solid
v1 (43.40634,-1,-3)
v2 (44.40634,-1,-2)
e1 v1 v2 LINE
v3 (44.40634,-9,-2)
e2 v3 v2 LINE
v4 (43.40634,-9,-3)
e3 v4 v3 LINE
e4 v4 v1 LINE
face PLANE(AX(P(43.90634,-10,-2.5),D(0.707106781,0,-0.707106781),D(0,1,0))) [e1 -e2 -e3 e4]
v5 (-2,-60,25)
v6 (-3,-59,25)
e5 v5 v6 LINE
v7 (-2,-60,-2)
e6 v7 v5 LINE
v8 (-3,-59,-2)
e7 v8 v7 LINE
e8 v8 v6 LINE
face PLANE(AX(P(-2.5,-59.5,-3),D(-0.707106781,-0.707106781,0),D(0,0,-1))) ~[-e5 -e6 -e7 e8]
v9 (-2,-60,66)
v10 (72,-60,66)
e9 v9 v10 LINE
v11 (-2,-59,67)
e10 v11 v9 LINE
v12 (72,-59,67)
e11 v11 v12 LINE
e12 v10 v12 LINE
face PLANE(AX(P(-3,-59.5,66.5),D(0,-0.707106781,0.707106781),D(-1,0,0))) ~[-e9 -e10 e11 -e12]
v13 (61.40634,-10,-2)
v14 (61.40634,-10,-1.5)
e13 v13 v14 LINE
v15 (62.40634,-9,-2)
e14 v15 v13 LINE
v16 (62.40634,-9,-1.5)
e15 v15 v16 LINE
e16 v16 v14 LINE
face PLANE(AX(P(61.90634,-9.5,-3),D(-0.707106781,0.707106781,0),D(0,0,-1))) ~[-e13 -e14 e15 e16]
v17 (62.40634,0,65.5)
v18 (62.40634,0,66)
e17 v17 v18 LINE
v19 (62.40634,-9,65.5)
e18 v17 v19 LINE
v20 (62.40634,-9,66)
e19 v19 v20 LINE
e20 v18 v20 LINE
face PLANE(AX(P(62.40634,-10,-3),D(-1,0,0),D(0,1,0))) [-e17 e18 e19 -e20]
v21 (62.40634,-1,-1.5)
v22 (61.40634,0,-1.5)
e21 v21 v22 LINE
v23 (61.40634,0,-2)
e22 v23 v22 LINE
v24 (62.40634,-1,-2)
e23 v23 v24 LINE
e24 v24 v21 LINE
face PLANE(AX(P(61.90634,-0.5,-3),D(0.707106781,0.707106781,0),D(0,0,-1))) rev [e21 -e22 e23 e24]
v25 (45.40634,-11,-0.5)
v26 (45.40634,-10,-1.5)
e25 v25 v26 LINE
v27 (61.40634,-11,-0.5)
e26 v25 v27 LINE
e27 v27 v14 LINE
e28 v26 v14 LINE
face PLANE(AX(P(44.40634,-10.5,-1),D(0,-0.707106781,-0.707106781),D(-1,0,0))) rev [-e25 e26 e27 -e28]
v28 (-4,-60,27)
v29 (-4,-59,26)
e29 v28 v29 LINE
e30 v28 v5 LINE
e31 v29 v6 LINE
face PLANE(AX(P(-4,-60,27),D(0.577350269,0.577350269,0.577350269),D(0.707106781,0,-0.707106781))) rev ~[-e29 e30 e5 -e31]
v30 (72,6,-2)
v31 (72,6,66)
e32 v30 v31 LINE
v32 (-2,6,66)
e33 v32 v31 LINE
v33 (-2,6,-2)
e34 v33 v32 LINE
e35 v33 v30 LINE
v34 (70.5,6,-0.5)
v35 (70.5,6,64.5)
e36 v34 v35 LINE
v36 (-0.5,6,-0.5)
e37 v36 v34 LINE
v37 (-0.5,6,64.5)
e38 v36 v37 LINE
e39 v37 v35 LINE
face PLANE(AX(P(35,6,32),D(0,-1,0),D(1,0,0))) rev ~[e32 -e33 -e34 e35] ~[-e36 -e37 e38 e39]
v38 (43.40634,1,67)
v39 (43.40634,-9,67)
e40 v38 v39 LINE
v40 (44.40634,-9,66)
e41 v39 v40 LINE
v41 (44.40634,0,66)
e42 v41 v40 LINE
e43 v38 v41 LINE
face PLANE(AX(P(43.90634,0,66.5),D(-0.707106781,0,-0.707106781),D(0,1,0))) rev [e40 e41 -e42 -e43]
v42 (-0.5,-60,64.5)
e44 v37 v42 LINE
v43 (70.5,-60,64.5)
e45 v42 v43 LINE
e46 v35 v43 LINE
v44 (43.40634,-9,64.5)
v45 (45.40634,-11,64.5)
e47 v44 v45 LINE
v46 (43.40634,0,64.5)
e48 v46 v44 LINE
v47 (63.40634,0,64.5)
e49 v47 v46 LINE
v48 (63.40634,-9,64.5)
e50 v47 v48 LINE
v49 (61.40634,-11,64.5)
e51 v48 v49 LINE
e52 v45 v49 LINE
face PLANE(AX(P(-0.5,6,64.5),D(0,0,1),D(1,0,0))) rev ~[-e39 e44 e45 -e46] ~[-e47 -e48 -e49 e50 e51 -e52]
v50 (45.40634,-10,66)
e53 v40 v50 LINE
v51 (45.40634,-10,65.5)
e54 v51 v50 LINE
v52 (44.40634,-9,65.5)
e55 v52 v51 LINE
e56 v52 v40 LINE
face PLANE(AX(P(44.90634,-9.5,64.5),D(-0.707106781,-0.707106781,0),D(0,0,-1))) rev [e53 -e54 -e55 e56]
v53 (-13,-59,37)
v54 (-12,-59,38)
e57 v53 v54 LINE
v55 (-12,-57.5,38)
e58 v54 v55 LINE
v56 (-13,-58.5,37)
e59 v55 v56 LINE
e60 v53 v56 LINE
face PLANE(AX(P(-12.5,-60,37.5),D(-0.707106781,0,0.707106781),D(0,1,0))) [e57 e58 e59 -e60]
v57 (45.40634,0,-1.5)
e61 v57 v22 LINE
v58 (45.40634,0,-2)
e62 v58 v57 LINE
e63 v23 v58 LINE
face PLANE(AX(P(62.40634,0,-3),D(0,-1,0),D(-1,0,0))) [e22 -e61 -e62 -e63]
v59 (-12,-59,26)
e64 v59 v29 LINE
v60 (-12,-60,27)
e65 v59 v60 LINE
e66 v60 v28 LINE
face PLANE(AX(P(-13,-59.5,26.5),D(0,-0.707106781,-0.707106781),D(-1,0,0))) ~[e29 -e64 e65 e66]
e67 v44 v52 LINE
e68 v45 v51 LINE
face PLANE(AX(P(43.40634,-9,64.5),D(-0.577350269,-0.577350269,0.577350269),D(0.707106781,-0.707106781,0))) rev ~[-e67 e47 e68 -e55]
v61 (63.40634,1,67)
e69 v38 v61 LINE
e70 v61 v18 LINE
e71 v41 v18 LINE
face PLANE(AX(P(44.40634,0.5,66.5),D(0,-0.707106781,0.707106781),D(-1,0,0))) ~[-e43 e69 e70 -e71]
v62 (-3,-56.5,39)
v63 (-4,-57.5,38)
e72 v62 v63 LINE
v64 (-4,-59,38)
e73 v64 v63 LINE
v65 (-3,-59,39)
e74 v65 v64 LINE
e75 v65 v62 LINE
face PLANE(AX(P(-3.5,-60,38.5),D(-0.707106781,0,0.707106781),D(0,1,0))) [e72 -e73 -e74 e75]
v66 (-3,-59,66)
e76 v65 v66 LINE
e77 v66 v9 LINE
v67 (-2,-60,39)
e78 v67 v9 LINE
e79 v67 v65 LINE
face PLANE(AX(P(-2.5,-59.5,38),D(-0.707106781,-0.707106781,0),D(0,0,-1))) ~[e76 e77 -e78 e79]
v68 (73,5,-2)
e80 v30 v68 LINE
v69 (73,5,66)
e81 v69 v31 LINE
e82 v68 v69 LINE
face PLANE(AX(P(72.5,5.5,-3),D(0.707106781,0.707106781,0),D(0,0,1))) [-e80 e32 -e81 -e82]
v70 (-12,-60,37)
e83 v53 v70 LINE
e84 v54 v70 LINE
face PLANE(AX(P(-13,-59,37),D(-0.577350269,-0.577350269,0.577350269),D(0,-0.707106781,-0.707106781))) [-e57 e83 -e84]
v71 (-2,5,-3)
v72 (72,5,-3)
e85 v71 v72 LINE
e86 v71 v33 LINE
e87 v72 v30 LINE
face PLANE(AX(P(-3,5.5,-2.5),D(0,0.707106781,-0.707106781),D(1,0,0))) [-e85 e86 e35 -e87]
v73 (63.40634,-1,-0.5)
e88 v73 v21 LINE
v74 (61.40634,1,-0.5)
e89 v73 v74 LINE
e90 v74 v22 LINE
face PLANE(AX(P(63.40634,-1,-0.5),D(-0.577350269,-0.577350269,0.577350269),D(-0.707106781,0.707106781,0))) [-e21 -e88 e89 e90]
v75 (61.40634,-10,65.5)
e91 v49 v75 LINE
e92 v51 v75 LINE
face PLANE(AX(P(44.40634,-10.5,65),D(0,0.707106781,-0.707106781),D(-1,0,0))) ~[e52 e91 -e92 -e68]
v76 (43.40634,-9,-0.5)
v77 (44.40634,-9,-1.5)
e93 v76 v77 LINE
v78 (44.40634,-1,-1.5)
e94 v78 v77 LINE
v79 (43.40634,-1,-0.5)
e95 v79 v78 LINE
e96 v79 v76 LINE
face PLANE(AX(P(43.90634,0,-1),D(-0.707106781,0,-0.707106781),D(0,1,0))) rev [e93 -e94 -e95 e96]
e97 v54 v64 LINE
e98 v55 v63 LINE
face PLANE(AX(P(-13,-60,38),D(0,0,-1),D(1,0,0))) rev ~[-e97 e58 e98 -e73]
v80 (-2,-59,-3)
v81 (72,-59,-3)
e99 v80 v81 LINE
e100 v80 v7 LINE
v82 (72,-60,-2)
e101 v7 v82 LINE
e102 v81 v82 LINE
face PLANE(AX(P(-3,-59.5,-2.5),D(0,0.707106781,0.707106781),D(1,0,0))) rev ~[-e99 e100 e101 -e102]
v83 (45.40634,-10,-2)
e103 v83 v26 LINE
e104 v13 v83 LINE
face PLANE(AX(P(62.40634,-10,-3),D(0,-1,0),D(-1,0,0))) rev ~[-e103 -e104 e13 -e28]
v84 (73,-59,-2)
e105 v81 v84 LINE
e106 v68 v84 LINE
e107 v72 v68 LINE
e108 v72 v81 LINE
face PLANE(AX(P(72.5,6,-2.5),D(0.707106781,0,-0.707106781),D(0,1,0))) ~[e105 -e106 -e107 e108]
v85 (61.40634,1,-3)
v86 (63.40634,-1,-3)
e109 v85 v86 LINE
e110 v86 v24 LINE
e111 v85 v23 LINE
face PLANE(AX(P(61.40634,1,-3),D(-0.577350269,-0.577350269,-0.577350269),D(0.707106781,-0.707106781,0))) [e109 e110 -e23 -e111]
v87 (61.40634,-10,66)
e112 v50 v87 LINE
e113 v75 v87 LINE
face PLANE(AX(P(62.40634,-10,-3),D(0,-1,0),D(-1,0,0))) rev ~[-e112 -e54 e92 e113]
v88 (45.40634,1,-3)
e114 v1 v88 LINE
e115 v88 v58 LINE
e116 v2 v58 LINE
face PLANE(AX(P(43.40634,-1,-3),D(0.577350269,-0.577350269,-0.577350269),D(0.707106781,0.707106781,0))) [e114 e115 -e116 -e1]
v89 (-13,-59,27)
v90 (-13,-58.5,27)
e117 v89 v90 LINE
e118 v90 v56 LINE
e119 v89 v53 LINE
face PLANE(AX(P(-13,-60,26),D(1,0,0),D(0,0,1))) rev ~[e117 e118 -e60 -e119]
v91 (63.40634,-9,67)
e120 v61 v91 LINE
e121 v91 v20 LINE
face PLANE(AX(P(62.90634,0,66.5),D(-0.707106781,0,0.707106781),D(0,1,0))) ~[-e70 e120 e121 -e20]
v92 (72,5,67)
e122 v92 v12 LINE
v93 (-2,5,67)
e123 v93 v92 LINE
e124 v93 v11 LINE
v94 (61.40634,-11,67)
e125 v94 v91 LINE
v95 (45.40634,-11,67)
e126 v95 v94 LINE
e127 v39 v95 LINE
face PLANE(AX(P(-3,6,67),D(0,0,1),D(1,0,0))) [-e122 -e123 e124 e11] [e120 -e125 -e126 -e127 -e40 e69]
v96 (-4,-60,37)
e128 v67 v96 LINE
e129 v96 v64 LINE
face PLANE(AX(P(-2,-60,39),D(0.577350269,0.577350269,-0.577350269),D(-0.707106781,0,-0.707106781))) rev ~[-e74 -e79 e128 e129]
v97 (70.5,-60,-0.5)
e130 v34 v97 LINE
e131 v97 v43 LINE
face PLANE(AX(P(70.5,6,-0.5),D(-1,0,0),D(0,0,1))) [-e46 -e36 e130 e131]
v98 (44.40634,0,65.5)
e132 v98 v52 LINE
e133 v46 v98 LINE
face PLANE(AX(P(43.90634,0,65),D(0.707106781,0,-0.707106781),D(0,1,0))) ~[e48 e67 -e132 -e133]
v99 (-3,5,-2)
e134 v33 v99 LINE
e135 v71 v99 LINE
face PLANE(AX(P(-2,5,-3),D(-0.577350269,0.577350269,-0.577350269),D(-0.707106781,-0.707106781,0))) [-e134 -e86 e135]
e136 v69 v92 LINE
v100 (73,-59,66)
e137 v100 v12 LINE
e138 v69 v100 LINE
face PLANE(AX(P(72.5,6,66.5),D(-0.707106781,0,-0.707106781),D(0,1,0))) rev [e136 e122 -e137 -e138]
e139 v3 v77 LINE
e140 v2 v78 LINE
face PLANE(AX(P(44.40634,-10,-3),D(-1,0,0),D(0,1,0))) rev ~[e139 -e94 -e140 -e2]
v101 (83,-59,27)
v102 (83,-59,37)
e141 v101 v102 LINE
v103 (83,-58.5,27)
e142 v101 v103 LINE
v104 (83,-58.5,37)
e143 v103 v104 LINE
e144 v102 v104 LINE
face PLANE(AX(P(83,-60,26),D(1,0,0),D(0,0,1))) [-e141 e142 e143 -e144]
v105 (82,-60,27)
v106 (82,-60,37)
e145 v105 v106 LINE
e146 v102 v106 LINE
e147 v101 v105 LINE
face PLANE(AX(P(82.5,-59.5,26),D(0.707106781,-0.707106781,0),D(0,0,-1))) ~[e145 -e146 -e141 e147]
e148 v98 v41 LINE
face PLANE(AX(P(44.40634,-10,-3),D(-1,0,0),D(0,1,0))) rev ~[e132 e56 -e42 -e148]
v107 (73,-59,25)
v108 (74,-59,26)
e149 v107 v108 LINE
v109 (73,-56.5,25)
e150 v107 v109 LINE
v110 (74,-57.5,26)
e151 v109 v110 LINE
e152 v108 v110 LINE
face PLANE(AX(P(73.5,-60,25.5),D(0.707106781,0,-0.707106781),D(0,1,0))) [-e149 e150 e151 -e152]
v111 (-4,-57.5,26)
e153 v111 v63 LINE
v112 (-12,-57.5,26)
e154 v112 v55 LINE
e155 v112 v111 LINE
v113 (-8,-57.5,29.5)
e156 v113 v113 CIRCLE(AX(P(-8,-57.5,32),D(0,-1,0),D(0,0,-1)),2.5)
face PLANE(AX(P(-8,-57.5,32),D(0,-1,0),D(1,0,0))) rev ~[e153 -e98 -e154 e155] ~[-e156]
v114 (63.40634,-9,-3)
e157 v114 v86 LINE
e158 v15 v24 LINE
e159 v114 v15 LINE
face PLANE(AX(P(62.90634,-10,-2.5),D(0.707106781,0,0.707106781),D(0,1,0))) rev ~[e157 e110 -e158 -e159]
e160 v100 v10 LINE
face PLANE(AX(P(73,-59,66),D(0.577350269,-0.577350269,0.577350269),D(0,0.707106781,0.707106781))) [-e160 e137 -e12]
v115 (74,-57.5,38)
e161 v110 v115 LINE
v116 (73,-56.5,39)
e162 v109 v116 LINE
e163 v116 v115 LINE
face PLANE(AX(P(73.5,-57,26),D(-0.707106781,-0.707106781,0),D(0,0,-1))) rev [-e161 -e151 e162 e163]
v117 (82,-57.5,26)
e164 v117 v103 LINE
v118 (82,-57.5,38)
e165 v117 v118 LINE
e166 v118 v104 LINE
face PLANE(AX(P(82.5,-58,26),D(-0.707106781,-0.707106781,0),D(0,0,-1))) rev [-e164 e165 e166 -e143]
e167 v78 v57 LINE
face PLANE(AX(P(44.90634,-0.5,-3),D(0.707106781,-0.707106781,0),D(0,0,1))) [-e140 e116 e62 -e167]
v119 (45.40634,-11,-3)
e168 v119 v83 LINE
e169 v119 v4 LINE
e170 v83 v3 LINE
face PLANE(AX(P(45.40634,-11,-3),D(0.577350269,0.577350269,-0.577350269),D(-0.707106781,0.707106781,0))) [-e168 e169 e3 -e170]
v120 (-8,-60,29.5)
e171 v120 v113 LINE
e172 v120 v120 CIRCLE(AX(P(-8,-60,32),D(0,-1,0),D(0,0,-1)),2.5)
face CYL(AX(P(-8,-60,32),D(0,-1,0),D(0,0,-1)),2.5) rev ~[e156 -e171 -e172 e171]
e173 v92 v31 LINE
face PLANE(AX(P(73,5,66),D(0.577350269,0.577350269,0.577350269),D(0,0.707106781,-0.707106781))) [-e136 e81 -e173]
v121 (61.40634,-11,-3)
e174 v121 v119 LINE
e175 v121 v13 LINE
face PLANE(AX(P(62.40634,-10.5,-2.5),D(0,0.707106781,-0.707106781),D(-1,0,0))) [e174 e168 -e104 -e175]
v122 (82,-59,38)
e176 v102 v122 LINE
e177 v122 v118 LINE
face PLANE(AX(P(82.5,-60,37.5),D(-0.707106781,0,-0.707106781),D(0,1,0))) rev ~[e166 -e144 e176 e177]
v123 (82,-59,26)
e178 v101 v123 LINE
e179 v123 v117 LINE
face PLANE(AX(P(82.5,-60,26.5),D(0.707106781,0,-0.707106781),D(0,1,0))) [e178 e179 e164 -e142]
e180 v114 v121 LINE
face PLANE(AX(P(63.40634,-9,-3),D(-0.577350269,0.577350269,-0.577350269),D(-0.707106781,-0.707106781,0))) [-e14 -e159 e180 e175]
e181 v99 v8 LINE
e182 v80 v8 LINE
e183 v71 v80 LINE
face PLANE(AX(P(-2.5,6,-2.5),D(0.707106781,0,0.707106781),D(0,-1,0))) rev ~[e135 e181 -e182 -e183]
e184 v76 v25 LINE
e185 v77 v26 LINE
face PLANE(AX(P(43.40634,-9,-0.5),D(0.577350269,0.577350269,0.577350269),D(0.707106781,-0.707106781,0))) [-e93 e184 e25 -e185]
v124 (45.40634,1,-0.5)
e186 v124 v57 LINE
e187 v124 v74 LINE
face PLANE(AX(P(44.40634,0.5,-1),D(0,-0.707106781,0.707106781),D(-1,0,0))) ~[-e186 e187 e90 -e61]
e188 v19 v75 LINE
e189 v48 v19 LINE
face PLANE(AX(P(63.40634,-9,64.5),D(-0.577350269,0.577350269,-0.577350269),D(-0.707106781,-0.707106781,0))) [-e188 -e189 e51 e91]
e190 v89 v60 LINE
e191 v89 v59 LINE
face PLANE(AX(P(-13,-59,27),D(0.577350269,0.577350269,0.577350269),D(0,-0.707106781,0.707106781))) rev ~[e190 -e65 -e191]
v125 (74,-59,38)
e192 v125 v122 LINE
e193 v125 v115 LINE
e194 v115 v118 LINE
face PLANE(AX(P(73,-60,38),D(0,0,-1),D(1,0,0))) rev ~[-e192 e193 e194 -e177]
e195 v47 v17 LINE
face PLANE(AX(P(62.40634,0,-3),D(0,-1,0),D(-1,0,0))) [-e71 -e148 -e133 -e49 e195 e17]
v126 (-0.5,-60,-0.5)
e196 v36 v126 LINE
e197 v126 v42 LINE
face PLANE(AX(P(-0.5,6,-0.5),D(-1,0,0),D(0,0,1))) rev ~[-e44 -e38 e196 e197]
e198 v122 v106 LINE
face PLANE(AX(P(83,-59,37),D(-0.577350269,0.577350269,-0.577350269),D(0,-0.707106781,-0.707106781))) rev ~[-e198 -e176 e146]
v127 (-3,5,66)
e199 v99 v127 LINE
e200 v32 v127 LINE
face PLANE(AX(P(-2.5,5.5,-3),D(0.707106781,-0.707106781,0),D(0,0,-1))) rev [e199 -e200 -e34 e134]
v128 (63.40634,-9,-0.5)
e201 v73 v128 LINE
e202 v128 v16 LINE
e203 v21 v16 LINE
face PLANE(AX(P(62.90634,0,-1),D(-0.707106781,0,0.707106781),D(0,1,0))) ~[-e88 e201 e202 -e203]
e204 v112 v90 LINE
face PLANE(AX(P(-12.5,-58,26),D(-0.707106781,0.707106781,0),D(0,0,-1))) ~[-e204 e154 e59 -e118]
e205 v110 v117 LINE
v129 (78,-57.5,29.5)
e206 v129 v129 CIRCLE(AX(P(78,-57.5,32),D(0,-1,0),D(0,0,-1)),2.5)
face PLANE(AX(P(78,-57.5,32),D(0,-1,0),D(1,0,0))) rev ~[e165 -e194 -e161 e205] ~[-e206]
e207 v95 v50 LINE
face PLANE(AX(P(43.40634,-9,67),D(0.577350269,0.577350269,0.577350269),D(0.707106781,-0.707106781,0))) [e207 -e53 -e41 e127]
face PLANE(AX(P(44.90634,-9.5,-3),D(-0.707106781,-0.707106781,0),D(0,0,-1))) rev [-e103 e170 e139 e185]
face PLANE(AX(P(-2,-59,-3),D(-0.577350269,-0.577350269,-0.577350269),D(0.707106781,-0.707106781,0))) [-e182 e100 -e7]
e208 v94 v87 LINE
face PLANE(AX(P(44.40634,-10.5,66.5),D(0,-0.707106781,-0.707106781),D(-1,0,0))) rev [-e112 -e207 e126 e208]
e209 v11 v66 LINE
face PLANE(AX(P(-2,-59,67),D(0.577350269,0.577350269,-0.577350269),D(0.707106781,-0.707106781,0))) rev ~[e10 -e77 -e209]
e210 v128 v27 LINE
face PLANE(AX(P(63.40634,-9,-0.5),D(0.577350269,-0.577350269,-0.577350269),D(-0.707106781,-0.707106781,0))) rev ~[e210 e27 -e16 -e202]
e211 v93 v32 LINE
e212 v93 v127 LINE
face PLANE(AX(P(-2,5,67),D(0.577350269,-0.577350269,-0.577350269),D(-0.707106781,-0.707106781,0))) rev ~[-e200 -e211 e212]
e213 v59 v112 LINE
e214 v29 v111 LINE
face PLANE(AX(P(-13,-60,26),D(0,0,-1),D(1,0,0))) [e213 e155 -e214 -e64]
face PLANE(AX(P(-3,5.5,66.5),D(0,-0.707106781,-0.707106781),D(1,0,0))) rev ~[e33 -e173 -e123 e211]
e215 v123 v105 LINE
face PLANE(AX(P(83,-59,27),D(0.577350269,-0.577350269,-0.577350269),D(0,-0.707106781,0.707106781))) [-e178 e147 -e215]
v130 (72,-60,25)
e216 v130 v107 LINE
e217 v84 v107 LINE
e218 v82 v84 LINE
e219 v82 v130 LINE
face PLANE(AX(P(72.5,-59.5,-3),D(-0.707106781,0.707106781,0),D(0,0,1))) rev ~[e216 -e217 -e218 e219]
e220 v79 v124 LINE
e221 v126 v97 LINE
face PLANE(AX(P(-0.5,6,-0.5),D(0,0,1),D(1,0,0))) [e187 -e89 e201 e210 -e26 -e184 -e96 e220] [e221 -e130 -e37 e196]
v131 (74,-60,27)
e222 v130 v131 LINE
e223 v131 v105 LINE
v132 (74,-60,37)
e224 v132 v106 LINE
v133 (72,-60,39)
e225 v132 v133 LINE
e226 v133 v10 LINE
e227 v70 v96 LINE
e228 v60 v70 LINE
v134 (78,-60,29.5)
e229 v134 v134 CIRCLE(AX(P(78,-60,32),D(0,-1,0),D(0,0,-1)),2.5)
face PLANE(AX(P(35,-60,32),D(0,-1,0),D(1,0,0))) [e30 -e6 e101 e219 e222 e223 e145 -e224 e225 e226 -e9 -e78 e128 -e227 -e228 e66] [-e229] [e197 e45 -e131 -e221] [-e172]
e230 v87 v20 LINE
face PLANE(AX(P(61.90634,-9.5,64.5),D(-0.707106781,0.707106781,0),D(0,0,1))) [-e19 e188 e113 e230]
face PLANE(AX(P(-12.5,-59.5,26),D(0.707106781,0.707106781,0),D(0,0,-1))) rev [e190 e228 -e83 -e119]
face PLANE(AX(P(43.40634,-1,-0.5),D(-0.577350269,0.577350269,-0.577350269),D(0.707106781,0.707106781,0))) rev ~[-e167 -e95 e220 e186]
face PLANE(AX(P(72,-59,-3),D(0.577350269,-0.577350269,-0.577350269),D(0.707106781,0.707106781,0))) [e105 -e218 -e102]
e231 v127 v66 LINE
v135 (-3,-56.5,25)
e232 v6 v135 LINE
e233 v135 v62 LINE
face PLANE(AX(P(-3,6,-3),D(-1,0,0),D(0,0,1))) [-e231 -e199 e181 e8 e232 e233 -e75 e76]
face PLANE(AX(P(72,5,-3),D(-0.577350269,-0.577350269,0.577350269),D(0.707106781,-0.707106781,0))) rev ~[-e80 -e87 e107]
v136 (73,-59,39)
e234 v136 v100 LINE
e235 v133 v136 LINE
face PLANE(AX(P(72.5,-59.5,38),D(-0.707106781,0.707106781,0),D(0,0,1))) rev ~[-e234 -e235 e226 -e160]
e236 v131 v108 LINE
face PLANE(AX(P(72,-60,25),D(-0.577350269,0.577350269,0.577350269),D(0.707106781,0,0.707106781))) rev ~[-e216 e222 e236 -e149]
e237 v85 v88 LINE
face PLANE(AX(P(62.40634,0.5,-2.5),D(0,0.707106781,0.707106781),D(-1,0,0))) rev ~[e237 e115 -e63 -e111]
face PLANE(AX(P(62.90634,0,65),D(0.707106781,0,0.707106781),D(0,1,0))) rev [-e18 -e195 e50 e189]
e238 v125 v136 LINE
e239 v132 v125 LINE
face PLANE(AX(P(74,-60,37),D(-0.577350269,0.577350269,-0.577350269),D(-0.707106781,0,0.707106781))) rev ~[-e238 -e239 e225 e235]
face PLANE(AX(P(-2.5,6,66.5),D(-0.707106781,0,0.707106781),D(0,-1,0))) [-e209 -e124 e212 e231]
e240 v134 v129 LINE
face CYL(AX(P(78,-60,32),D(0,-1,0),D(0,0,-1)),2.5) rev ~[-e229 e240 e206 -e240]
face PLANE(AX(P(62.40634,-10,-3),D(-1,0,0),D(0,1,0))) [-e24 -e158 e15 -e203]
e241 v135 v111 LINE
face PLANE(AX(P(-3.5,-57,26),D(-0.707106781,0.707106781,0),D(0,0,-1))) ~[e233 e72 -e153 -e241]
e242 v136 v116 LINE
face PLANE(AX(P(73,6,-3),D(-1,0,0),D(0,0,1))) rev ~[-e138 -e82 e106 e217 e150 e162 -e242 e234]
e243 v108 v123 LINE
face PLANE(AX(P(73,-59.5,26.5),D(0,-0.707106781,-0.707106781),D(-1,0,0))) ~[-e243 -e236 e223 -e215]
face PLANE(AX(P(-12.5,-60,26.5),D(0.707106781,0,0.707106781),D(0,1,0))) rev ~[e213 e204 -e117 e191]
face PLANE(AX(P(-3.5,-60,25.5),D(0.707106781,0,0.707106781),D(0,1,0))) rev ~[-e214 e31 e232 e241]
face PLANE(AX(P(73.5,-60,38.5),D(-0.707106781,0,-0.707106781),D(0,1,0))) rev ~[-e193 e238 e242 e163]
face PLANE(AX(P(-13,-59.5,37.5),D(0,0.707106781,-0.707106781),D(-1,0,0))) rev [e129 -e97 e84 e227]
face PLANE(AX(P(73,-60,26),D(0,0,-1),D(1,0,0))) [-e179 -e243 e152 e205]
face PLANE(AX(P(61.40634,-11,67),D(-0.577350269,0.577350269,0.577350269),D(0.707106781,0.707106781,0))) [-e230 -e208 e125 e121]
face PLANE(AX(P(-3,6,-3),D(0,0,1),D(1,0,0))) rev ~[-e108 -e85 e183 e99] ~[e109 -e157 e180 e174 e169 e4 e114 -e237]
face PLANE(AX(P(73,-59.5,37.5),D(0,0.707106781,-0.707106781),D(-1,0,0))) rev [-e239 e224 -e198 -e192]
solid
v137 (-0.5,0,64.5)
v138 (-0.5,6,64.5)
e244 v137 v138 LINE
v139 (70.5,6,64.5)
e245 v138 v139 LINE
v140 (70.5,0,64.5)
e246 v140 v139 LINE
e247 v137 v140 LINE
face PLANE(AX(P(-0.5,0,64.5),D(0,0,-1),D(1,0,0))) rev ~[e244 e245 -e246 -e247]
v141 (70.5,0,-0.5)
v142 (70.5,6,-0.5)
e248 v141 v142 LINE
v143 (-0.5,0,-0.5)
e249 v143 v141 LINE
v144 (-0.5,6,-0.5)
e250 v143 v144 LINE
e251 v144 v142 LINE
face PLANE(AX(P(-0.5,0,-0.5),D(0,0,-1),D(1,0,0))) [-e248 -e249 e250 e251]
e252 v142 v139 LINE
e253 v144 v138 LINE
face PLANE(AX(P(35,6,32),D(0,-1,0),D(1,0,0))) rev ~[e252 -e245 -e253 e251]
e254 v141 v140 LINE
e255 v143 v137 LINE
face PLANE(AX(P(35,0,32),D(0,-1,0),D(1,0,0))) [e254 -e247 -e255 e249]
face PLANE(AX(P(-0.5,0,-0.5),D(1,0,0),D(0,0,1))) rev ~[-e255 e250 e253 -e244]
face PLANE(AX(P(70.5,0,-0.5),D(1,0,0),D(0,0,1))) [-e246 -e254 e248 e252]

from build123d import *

# Parameters (mm, degrees)
SKETCH_1_W           = 70
SKETCH_1_H           = 64
EXTRUDE_1_DEPTH      = 6
SKETCH_2_W           = 71
SKETCH_2_H           = 65
SKETCH_2_W_2         = 70
SKETCH_2_H_2         = 64
EXTRUDE_2_DEPTH      = 6
EXTRUDE_3_DEPTH      = 60
EXTRUDE_3_DEPTH_BACK = 6
SKETCH_2_4_W         = 76
SKETCH_2_4_H         = 70
SKETCH_2_4_W_2       = 71
SKETCH_2_4_H_2       = 65
SKETCH_6_W           = 18
SKETCH_6_H           = 10
CUT_EXTRUDE_2_DEPTH  = 117
SKETCH_7_W           = 10
SKETCH_7_H           = 12
SKETCH_7_R           = 2.5
EXTRUDE_4_DEPTH      = 2.5
CHAMFER_1_SIZE       = 1


with BuildPart() as part:
    # 草图1 → 凸台-拉伸1 (new body)
    with BuildSketch(Plane(origin=(0, 0, 0), x_dir=(1, 0, 0), z_dir=(0, 1, 0))):
        with Locations((35, -32)):
            Rectangle(SKETCH_1_W, SKETCH_1_H)
    extrude(amount=EXTRUDE_1_DEPTH)

    # 草图2 → 凸台-拉伸2 (add)
    with BuildSketch(Plane.XZ):
        with Locations((35, 32)):
            Rectangle(SKETCH_2_W, SKETCH_2_H)
        with Locations((35, 32)):
            Rectangle(SKETCH_2_W_2, SKETCH_2_H_2, mode=Mode.SUBTRACT)
    extrude(amount=-EXTRUDE_2_DEPTH)


with BuildPart() as body_2:
    # 草图2<4> → 凸台-拉伸3 (new, two sides: drawn at the far end of the back side and taken through both)
    with BuildSketch(Plane.XZ.offset(-EXTRUDE_3_DEPTH_BACK)):
        with Locations((35, 32)):
            Rectangle(SKETCH_2_4_W, SKETCH_2_4_H)
        with Locations((35, 32)):
            Rectangle(SKETCH_2_4_W_2, SKETCH_2_4_H_2, mode=Mode.SUBTRACT)
    extrude(amount=EXTRUDE_3_DEPTH + EXTRUDE_3_DEPTH_BACK)

    # 草图6 → 切除-拉伸2 (cut)
    with BuildSketch(Plane(origin=(0, 0, -3), x_dir=(-1, 0, 0), z_dir=(0, 0, -1))):
        with Locations((-53.406339693, -5)):
            Rectangle(SKETCH_6_W, SKETCH_6_H)
    extrude(amount=-CUT_EXTRUDE_2_DEPTH, mode=Mode.SUBTRACT)

    # 草图7 → 凸台-拉伸4 (add)
    # profile 1 of 2: a face of its own
    with BuildSketch(Plane.XZ.offset(60)):
        with Locations((-8, 32)):
            Rectangle(SKETCH_7_W, SKETCH_7_H)
        with Locations((-8, 32)):
            Circle(SKETCH_7_R, mode=Mode.SUBTRACT)
    # profile 2 of 2: a face of its own
    with BuildSketch(Plane.XZ.offset(60)):
        with Locations((78, 32)):
            Rectangle(SKETCH_7_W, SKETCH_7_H)
        with Locations((78, 32)):
            Circle(SKETCH_7_R, mode=Mode.SUBTRACT)
    extrude(amount=-EXTRUDE_4_DEPTH)

    # 倒角1
    chamfer_1_edges = [body_2.edges().sort_by_distance(p)[0] for p in [
        (-8, -60, 26),
        (-8, -60, 38),
        (78, -60, 38),
        (78, -60, 26),
        (-3, -60, 11.5),
        (-3, 6, 32),
        (-3, -58.75, 26),
        (-3, -57.5, 32),
        (-3, -58.75, 38),
        (-3, -60, 52.5),
        (35, 6, 67),
        (-3, -27, 67),
        (35, -60, 67),
        (73, -60, 52.5),
        (73, -27, 67),
        (73, 6, 32),
        (73, -58.75, 38),
        (73, -57.5, 32),
        (73, -58.75, 26),
        (73, -60, 11.5),
        (35, 6, -3),
        (-3, -27, -3),
        (35, -60, -3),
        (73, -27, -3),
        (-13, -58.75, 26),
        (-13, -57.5, 32),
        (-13, -58.75, 38),
        (-13, -60, 32),
        (83, -58.75, 38),
        (83, -57.5, 32),
        (83, -58.75, 26),
        (83, -60, 32),
        (44.406339693, -5, 64.5),
        (62.406339693, -5, 64.5),
        (53.406339693, 0, 67),
        (44.406339693, -5, 67),
        (62.406339693, -5, 67),
        (53.406339693, -10, 64.5),
        (62.406339693, -10, 65.75),
        (53.406339693, -10, 67),
        (44.406339693, -10, 65.75),
        (53.406339693, -10, -0.5),
        (44.406339693, -10, -1.75),
        (53.406339693, -10, -3),
        (62.406339693, -10, -1.75),
        (44.406339693, -5, -0.5),
        (62.406339693, -5, -0.5),
        (62.406339693, -5, -3),
        (44.406339693, -5, -3),
        (53.406339693, 0, -0.5),
        (62.406339693, 0, -1.75),
        (53.406339693, 0, -3),
        (44.406339693, 0, -1.75),
    ]]
    chamfer(chamfer_1_edges, length=CHAMFER_1_SIZE)


solid = Compound([part.part, body_2.part])
